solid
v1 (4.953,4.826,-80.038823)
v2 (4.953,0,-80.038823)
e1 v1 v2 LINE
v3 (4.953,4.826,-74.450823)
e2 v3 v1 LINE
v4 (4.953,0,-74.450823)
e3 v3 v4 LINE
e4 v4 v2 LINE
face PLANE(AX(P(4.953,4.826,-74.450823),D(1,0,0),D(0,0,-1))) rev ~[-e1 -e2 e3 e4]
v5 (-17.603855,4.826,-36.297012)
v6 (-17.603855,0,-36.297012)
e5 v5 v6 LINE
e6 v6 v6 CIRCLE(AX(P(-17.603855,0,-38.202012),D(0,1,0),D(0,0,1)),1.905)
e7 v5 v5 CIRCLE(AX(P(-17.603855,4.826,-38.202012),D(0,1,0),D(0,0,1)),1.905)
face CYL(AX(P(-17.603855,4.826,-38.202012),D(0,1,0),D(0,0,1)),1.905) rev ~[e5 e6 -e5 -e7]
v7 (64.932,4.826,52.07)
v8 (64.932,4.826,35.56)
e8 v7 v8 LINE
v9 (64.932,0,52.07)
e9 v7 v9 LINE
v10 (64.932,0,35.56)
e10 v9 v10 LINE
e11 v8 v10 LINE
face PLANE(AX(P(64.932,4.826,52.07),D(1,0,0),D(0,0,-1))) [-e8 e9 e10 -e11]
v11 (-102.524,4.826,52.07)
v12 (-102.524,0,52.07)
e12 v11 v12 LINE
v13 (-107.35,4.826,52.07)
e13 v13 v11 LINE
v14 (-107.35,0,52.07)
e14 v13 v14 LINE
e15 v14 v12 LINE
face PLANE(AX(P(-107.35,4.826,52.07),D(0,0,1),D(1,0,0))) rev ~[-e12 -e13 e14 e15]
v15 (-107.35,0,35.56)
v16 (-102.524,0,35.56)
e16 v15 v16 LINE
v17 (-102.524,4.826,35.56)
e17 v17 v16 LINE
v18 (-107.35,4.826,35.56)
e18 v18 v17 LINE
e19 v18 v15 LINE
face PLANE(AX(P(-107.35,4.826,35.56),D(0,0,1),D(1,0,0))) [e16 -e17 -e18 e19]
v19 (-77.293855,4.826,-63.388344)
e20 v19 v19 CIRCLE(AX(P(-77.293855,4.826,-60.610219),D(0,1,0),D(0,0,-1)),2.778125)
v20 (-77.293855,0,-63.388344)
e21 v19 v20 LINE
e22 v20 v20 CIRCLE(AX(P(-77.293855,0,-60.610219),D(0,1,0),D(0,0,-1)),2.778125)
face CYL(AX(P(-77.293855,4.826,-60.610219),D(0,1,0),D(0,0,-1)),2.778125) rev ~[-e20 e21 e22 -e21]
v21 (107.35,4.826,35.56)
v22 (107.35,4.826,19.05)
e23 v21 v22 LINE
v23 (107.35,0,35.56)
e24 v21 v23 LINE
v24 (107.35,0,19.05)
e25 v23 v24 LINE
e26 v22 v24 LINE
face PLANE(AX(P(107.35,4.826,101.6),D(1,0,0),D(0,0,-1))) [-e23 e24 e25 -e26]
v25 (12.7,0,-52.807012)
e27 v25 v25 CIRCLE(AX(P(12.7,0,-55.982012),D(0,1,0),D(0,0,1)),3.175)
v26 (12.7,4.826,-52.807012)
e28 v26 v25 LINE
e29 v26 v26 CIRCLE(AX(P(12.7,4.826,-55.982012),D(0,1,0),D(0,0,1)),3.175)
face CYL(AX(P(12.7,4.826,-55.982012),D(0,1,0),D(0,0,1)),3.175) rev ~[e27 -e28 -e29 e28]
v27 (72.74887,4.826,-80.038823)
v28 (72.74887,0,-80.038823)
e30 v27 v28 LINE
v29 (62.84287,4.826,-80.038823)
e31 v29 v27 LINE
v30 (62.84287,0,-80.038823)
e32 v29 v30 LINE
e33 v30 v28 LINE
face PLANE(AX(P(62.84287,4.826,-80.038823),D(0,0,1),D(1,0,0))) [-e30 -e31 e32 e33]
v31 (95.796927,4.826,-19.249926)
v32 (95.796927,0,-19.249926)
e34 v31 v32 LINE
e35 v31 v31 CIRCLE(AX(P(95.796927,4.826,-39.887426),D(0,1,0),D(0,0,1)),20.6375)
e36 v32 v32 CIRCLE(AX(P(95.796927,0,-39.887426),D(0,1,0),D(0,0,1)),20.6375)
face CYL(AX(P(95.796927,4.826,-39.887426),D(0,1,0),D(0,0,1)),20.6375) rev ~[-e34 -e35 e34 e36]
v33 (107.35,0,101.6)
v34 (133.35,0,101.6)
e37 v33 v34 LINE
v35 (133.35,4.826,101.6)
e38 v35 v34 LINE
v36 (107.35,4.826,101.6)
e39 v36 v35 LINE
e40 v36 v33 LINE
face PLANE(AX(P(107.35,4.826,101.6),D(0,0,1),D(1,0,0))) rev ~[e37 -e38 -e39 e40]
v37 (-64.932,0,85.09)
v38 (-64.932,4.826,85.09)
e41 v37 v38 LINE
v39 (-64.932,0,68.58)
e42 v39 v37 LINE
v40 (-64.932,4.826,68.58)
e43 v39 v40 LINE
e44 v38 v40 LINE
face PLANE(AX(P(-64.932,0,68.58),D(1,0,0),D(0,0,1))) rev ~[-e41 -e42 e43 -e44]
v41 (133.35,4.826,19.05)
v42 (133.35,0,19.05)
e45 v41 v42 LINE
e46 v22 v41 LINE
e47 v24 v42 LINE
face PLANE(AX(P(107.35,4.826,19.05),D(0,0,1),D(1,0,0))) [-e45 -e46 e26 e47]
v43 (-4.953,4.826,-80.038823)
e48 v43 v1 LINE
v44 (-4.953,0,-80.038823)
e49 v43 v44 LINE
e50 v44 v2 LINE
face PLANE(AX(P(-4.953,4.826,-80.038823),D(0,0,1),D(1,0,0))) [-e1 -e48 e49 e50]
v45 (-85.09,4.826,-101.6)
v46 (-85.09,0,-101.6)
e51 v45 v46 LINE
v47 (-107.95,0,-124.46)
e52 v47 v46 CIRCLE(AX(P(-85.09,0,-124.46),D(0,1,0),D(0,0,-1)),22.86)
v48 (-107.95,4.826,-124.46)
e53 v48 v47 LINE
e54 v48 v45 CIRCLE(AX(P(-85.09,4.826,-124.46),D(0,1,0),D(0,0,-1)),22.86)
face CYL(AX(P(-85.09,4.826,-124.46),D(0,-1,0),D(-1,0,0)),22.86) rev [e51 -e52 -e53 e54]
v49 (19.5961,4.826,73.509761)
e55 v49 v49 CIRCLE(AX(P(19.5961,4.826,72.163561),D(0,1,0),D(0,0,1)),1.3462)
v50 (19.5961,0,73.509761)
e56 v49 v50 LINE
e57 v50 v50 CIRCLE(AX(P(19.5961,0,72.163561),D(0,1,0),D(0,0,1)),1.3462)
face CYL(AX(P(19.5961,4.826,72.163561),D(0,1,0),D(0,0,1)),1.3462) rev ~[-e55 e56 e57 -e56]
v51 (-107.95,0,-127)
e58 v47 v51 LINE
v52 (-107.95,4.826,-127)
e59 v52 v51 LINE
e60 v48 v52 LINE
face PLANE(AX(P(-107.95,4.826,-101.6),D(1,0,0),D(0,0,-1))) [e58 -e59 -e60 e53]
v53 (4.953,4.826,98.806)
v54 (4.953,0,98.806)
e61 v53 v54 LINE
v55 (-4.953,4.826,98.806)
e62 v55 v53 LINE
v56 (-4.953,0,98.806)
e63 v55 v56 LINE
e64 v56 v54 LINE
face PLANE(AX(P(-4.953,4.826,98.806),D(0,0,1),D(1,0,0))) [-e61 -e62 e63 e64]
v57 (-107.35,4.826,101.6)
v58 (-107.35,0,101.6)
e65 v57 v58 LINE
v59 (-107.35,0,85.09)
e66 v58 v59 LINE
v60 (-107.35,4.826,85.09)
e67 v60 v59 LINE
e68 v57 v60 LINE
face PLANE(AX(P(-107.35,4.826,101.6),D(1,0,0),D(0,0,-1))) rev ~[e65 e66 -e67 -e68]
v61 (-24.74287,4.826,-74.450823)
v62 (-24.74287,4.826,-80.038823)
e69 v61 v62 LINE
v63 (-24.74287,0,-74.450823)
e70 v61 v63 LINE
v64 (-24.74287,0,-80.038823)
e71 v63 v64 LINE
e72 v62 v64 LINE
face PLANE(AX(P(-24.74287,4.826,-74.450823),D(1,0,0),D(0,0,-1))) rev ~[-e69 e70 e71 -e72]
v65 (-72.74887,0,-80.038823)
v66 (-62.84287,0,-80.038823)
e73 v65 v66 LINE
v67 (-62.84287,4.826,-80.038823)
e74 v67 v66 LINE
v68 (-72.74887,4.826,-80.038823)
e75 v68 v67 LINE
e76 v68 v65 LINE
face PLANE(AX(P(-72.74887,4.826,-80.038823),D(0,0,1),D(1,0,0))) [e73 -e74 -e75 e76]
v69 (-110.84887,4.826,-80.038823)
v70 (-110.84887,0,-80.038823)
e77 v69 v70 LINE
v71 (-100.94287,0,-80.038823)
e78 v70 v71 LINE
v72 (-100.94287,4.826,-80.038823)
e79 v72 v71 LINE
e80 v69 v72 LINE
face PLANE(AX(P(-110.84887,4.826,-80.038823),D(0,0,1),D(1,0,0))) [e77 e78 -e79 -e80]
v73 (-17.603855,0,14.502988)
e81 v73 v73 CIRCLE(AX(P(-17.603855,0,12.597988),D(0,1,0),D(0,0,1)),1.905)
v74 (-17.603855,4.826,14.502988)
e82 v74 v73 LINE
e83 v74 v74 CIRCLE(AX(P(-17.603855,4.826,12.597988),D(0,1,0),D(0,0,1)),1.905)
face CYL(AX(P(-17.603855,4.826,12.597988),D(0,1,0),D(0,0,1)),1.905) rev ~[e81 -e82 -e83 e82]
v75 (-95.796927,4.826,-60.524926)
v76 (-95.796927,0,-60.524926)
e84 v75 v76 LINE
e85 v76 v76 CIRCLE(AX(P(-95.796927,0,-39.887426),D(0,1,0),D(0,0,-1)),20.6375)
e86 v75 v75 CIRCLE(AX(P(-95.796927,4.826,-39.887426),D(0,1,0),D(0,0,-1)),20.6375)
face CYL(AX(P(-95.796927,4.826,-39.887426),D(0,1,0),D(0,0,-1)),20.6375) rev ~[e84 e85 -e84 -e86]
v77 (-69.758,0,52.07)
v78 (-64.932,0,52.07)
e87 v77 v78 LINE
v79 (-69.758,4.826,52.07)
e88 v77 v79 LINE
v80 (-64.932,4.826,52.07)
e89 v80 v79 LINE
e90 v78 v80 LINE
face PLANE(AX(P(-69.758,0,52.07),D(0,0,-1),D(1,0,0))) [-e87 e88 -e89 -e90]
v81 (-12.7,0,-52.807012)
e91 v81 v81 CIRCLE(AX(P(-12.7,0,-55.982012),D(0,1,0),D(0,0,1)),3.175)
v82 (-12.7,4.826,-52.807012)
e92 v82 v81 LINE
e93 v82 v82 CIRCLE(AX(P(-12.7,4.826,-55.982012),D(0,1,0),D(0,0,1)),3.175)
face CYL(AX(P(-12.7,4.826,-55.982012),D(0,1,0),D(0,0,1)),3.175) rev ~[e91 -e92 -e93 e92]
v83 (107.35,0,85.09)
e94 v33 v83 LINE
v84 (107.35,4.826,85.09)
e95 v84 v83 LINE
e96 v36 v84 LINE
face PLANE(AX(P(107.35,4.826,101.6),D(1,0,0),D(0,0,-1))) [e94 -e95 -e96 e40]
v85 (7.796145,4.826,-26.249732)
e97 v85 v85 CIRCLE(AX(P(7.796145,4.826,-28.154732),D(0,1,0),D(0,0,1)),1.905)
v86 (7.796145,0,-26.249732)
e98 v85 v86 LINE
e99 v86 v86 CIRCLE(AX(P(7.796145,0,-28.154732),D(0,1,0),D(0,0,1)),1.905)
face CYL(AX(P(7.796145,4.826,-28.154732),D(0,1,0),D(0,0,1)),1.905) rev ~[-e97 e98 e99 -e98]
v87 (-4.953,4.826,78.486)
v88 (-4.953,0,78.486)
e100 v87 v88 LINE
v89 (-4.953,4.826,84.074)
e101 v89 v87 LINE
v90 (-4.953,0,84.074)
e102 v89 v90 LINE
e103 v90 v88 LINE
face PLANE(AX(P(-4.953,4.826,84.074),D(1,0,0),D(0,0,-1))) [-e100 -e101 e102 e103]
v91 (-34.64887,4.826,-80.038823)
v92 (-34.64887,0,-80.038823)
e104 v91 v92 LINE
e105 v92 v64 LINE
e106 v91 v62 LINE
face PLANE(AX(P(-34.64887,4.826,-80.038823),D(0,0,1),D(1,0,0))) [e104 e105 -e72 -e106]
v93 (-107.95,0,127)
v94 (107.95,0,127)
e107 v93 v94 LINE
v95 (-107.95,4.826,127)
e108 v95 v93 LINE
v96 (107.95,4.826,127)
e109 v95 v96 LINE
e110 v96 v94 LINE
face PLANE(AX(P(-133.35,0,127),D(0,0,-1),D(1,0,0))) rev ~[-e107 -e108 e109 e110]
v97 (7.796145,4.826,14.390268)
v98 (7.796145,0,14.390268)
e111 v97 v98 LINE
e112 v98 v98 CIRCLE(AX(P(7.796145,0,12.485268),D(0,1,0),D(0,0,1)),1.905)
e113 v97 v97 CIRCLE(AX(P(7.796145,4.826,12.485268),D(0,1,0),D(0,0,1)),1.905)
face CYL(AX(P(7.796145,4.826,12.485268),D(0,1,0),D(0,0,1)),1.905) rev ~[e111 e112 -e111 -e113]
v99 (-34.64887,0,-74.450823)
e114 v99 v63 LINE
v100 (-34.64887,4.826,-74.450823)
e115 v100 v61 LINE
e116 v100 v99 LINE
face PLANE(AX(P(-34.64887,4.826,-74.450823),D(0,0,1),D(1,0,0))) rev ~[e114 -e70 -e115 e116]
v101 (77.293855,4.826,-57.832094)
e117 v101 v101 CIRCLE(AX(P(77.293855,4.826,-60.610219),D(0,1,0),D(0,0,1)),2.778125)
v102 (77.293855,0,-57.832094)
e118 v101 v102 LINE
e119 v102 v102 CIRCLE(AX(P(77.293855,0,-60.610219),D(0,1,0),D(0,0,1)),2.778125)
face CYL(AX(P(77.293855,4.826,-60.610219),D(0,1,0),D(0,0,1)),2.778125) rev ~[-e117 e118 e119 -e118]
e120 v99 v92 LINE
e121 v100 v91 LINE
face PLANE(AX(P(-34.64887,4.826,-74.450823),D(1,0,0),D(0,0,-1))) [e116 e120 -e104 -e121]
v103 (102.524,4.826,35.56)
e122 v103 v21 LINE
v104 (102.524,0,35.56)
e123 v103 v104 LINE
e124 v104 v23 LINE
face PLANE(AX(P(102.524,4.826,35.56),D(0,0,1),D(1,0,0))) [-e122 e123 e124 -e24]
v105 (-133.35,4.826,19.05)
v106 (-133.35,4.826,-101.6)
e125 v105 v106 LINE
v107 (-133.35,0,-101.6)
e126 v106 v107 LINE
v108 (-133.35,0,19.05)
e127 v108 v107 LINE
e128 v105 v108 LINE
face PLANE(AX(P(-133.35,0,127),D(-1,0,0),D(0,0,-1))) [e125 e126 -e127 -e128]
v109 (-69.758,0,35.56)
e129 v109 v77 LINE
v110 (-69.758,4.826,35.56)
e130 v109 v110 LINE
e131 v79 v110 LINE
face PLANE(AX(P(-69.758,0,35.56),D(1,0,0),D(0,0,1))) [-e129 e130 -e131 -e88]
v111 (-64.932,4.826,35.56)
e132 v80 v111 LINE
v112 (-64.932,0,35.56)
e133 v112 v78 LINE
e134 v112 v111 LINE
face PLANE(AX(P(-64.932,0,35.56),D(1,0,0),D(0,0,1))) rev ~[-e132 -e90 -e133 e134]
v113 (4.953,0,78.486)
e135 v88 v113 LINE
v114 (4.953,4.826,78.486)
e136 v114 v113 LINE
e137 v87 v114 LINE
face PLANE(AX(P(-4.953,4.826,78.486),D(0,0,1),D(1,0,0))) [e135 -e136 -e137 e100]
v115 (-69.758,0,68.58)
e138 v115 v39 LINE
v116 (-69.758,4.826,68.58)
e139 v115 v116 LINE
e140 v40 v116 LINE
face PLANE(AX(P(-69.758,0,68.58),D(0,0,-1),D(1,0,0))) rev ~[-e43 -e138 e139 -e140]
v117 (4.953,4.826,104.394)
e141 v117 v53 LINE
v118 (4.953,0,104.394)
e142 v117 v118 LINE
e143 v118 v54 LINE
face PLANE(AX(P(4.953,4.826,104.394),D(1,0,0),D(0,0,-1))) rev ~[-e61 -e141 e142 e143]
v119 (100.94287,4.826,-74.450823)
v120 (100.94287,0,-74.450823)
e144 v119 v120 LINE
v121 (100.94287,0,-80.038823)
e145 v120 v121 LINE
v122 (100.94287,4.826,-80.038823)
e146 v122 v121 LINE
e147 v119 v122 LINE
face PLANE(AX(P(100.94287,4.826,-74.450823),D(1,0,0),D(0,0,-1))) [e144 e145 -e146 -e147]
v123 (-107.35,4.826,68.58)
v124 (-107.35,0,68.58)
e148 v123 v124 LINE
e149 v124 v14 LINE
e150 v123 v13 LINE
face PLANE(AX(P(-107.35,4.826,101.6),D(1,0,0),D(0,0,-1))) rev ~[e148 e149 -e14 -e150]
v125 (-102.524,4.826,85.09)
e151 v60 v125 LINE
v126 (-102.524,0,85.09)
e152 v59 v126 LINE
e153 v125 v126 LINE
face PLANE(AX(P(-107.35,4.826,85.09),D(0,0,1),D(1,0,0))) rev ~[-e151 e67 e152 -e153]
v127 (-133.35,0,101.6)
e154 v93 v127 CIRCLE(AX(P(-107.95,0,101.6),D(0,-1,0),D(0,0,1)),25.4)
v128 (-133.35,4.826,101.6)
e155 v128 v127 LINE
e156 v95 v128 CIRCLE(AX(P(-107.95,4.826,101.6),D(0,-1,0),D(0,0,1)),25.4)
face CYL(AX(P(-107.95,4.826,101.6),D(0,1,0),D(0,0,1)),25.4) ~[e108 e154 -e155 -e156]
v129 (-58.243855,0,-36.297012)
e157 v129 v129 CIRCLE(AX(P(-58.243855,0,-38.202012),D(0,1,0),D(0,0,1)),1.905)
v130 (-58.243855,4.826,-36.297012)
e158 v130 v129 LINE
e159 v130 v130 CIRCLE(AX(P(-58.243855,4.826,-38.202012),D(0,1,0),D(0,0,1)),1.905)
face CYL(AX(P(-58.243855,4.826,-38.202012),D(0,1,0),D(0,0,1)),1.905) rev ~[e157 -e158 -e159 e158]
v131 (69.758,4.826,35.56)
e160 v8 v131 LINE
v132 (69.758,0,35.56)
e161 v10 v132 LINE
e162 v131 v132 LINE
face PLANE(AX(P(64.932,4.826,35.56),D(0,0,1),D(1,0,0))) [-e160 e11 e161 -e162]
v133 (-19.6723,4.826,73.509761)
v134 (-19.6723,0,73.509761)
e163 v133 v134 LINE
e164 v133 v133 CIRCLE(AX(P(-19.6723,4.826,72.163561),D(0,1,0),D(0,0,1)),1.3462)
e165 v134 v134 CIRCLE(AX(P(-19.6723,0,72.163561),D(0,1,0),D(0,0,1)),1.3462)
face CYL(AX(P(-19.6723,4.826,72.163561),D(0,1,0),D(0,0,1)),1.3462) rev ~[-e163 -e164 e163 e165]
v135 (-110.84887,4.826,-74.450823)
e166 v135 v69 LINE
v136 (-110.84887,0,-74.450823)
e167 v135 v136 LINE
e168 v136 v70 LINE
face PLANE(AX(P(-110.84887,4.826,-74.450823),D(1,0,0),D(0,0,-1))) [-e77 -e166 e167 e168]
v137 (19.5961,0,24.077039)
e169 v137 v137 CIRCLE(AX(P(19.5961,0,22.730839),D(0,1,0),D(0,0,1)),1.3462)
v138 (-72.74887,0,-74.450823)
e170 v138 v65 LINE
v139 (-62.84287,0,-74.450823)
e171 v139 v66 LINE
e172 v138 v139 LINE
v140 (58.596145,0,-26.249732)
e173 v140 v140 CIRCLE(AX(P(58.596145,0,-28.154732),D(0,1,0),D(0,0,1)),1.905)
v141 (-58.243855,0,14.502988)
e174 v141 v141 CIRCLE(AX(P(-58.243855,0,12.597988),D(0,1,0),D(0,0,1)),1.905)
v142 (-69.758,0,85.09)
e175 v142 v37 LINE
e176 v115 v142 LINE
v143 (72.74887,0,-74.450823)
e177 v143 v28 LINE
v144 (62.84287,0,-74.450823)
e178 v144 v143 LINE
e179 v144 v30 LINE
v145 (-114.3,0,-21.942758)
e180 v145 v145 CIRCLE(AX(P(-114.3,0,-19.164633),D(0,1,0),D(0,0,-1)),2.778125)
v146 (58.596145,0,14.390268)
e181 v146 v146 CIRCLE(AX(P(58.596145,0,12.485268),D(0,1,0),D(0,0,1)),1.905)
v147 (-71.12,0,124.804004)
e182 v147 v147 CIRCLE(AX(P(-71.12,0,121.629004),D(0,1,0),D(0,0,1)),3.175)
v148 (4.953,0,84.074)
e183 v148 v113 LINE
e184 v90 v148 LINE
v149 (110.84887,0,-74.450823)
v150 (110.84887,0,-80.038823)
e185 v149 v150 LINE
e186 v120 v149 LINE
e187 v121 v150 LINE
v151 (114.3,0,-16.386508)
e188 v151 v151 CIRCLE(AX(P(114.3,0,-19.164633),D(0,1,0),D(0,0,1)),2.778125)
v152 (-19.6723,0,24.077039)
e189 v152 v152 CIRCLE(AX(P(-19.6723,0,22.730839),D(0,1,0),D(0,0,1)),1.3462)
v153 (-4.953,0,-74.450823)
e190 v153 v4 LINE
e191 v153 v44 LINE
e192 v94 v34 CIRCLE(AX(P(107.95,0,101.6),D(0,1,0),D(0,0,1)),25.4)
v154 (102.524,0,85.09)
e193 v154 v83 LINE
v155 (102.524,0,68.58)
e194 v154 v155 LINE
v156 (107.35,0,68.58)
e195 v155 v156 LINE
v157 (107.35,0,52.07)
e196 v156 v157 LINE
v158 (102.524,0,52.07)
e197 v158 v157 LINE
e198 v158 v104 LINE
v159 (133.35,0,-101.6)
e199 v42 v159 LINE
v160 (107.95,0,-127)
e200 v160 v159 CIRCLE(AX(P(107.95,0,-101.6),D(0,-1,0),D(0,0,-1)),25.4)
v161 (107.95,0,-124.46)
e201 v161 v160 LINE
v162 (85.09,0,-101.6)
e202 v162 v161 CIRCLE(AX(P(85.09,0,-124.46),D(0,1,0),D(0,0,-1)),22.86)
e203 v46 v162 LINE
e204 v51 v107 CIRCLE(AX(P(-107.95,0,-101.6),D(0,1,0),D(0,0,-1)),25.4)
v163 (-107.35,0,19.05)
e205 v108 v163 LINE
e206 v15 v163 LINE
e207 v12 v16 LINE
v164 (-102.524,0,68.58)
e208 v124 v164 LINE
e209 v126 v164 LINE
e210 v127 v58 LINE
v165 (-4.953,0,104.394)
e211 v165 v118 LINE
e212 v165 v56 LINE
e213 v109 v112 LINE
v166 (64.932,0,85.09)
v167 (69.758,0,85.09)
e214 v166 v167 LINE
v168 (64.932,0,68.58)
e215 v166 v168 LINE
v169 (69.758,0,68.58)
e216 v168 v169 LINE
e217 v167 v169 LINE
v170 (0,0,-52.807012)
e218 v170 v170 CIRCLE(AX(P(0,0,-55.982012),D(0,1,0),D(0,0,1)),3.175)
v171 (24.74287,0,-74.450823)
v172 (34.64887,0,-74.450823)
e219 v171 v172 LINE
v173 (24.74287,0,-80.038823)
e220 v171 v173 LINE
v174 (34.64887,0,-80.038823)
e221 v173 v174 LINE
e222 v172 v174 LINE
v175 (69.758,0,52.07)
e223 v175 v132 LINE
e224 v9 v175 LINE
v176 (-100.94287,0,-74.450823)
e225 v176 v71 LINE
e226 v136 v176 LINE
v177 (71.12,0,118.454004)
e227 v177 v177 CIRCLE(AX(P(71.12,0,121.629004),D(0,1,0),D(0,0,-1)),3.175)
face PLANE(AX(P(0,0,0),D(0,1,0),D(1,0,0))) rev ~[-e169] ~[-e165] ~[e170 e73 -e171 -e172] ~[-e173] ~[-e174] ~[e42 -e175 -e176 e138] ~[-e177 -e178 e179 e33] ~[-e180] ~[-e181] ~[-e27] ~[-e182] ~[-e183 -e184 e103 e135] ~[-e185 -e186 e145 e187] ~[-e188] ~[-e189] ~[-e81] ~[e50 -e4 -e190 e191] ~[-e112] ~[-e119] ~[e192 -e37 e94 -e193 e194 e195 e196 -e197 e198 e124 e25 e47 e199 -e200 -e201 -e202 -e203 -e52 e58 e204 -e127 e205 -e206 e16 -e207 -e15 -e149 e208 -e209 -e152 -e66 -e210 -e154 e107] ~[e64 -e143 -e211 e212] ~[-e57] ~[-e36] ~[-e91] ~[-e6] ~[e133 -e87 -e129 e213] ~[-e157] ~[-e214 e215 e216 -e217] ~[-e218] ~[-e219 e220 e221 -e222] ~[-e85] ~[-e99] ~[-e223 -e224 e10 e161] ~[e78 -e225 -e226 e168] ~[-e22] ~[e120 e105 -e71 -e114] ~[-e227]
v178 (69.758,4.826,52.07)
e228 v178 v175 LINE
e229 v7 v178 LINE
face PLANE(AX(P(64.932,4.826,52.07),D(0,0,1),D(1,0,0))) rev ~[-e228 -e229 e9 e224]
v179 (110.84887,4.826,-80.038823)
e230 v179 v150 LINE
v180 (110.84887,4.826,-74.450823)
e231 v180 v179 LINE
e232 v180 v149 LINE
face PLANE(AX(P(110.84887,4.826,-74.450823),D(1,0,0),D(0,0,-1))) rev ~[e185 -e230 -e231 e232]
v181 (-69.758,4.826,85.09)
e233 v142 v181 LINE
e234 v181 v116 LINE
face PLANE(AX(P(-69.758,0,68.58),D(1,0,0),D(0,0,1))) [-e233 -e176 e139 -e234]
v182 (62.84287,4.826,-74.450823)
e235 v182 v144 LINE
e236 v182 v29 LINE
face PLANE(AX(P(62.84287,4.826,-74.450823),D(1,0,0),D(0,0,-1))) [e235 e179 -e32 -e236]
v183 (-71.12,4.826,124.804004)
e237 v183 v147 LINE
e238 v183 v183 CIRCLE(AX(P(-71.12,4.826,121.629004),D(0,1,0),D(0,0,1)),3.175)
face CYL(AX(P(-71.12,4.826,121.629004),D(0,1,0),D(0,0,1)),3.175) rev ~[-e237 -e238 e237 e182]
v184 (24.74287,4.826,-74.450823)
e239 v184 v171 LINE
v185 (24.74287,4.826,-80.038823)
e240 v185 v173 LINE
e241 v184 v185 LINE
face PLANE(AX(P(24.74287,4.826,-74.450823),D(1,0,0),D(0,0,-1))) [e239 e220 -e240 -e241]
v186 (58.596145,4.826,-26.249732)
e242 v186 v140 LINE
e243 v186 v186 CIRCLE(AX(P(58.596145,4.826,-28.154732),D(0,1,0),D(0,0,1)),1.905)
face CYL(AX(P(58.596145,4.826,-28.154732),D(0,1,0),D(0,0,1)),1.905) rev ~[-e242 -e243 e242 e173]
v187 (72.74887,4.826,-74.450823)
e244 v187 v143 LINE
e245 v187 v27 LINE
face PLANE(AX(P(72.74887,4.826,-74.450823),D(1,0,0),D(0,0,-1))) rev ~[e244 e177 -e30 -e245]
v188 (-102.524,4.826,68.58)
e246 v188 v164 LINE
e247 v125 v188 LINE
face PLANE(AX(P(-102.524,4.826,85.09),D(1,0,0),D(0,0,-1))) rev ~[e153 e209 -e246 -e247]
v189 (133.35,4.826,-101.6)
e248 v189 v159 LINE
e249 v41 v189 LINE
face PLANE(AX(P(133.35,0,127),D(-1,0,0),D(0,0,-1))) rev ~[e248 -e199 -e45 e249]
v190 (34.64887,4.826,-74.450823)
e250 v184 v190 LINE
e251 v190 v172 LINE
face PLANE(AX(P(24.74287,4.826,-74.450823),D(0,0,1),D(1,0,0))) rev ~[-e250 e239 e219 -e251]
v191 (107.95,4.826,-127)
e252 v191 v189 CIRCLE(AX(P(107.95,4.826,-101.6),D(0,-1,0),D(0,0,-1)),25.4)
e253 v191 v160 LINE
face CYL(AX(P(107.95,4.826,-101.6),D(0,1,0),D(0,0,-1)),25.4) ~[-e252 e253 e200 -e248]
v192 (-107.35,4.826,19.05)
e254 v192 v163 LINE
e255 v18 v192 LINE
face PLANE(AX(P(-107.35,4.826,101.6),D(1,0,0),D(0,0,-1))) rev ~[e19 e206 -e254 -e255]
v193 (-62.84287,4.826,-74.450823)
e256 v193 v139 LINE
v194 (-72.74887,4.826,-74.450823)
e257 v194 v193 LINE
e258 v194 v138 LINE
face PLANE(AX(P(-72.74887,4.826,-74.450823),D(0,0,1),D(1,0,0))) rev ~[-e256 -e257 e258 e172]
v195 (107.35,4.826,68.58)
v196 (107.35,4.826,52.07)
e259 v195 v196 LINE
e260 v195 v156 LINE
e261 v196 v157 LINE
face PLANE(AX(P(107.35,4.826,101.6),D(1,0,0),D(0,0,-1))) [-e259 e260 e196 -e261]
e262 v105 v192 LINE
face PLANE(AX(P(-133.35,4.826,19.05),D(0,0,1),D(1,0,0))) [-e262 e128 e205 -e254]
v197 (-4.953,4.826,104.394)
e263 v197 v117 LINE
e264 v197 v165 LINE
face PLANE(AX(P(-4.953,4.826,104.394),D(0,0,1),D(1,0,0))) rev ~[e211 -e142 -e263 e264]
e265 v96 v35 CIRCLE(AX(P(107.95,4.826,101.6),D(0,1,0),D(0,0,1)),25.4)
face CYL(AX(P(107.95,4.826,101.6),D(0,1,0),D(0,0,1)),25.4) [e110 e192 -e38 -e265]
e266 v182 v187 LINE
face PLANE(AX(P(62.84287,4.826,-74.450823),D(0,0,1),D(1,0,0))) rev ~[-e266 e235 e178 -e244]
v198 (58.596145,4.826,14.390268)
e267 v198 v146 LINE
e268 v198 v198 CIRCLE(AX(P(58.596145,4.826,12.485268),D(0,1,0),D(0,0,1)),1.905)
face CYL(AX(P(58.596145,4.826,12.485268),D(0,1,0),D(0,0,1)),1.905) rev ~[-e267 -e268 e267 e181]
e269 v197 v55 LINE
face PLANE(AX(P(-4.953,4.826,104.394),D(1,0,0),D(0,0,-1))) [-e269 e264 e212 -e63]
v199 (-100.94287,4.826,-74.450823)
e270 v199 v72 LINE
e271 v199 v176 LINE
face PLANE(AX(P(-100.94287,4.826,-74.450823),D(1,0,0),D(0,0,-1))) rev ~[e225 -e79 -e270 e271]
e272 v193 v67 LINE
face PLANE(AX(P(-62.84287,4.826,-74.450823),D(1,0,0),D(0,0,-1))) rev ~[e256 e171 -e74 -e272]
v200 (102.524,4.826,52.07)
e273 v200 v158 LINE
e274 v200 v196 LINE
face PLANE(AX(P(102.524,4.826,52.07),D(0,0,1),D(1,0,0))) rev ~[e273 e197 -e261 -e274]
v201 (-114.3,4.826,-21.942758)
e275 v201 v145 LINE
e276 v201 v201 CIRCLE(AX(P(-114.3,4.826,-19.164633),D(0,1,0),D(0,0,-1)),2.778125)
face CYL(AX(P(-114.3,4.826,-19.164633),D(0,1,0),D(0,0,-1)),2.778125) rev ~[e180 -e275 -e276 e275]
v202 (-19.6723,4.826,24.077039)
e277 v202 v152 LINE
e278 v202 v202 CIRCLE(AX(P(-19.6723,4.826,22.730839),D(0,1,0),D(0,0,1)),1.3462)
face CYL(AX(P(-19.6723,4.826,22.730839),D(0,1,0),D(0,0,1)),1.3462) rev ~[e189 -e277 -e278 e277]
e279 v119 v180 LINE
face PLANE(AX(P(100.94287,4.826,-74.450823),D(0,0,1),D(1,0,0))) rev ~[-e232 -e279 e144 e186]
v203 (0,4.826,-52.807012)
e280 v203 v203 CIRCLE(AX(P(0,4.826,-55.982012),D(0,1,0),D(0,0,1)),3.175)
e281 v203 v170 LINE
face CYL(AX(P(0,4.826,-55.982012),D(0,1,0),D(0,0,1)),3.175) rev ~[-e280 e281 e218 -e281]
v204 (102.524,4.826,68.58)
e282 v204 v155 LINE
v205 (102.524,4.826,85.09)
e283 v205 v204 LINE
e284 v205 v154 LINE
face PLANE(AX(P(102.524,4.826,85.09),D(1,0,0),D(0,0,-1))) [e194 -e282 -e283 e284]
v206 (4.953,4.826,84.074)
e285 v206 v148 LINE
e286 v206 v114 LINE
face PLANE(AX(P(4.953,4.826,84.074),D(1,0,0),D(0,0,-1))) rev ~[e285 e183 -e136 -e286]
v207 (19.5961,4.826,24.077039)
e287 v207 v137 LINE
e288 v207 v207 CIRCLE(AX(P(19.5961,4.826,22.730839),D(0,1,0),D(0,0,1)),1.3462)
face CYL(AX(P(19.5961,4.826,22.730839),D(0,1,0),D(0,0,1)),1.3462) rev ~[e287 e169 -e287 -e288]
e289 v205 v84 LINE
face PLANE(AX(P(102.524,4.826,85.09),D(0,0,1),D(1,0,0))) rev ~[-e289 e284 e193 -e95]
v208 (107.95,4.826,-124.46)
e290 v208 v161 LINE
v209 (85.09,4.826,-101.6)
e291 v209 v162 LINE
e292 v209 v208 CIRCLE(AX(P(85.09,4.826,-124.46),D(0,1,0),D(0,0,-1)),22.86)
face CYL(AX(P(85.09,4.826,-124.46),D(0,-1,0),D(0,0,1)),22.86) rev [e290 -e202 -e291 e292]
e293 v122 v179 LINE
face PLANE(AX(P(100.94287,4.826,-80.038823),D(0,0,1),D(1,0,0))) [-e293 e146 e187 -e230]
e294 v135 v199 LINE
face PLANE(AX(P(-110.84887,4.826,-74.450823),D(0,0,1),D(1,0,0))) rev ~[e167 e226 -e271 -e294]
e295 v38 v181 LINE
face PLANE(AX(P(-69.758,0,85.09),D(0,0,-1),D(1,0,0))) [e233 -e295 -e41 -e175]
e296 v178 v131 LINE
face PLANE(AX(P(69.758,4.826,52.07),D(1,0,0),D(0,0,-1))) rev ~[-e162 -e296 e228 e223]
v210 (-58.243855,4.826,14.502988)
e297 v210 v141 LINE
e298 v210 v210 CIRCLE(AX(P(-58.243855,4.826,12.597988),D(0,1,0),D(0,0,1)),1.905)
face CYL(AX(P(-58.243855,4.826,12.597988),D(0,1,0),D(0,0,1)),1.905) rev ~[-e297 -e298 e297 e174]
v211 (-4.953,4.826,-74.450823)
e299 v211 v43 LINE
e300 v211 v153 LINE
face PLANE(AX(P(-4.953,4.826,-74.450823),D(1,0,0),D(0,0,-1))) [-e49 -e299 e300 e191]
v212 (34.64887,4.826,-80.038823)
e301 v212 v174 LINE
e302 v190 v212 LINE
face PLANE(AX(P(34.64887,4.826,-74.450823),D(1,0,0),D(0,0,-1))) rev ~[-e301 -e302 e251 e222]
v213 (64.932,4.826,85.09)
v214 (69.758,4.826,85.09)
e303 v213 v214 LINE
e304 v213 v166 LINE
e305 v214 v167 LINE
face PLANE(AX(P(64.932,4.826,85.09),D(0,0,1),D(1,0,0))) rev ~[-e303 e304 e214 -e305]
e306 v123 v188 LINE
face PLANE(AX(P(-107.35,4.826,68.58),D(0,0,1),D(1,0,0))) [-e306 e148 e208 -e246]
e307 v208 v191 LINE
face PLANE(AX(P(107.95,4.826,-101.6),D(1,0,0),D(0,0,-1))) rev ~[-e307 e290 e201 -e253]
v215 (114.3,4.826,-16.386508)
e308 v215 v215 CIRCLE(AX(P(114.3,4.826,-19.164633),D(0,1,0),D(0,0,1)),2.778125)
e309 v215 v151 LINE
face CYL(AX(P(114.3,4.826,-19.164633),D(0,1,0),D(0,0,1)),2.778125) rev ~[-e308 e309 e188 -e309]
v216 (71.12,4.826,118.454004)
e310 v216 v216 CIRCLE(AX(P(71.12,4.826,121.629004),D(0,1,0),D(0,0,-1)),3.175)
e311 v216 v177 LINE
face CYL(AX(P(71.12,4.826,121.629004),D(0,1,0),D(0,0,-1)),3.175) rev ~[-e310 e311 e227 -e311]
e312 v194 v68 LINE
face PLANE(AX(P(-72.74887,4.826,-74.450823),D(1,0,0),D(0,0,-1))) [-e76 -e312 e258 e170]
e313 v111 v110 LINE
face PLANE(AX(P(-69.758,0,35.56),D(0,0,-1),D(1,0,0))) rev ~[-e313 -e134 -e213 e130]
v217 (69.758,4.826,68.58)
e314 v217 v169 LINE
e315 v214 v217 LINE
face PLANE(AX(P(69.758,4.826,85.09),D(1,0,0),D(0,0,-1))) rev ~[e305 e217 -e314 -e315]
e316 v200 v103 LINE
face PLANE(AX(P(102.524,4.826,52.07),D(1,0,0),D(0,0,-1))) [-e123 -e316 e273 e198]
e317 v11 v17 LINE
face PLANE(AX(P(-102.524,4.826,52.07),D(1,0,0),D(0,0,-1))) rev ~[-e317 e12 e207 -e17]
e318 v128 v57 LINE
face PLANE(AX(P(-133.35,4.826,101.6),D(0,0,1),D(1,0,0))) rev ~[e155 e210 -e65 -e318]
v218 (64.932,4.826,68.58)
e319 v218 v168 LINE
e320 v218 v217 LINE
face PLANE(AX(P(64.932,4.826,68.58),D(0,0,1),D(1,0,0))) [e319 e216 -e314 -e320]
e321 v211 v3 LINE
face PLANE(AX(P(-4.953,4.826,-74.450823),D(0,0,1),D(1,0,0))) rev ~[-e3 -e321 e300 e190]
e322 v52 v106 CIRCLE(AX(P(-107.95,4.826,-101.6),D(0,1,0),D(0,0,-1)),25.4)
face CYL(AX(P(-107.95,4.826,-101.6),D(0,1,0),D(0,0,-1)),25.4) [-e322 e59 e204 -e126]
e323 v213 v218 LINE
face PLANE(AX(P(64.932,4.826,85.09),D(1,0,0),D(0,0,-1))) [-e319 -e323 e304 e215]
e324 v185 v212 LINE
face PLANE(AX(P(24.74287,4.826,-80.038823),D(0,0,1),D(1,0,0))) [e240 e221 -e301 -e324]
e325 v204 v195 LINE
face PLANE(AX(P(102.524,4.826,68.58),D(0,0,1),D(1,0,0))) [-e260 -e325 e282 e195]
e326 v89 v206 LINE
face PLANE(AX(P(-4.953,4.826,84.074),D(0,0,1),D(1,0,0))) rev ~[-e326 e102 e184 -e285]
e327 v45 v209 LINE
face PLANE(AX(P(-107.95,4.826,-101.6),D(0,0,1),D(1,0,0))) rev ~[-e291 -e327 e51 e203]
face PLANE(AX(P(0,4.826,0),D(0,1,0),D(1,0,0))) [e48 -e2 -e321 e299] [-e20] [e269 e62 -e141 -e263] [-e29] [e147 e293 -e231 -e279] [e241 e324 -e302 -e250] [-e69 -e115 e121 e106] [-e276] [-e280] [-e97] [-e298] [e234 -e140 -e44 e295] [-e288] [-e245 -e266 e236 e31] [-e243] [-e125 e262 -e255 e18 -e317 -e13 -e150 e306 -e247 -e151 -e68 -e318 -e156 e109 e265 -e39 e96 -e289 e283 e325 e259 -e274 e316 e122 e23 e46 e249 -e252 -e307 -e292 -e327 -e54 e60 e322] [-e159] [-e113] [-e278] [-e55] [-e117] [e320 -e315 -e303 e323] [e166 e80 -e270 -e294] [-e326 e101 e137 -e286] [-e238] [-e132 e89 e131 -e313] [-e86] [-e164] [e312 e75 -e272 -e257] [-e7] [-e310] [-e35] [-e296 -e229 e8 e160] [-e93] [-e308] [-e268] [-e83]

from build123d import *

# Parameters (mm, degrees)
SKETCH1_W           = 266.7
SKETCH1_H           = 254
BOSS_EXTRUDE1_DEPTH = 4.826
SKETCH2_W           = 26.00000007
SKETCH2_H           = 82.55
CUT_EXTRUDE1_DEPTH  = 4.826
CUT_EXTRUDE3_DEPTH  = 4.826
SKETCH7_W           = 215.9
SKETCH7_H           = 25.4
CUT_EXTRUDE5_DEPTH  = 4.826
FILLET9_R           = 22.86
FILLET10_R          = 22.86
CUT_EXTRUDE6_DEPTH  = 4.826
SKETCH9_R           = 3.175
CUT_EXTRUDE7_DEPTH  = 4.826
SKETCH10_W          = 4.826
SKETCH10_H          = 16.51
CUT_EXTRUDE8_DEPTH  = 185.213226387
SKETCH12_W          = 4.826
SKETCH12_H          = 16.51
CUT_EXTRUDE9_DEPTH  = 185.213226387
SKETCH13_W          = 4.826
SKETCH13_H          = 16.51
CUT_EXTRUDE10_DEPTH = 185.213226387
SKETCH15_R          = 1.3462
CUT_EXTRUDE11_DEPTH = 185.213226387
SKETCH16_R          = 2.778125
SKETCH16_R_2        = 20.6375
CUT_EXTRUDE12_DEPTH = 185.213226387
SKETCH17_W          = 9.906
SKETCH17_H          = 5.588
CUT_EXTRUDE13_DEPTH = 185.213226387
SKETCH18_W          = 9.906
SKETCH18_H          = 5.588
CUT_EXTRUDE14_DEPTH = 185.213226387
SKETCH19_R          = 3.175
CUT_EXTRUDE15_DEPTH = 185.213226387
SKETCH20_R          = 1.905
CUT_EXTRUDE16_DEPTH = 185.213226387
SKETCH21_R          = 1.905
CUT_EXTRUDE17_DEPTH = 185.213226387


with BuildPart() as part:
    # Sketch1 → Boss-Extrude1 (new body)
    with BuildSketch(Plane(origin=(0, 0, 0), x_dir=(1, 0, 0), z_dir=(0, 1, 0))):
        Rectangle(SKETCH1_W, SKETCH1_H)
    extrude(amount=BOSS_EXTRUDE1_DEPTH)

    # Sketch2 → Cut-Extrude1 (cut)
    with BuildSketch(Plane(origin=(0, 4.826, 0), x_dir=(1, 0, 0), z_dir=(0, 1, 0))):
        with Locations((-120.349999965, -60.325)):
            Rectangle(SKETCH2_W, SKETCH2_H)
        with Locations((120.349999965, -60.325)):
            Rectangle(SKETCH2_W, SKETCH2_H)
    extrude(amount=-CUT_EXTRUDE1_DEPTH, mode=Mode.SUBTRACT)

    # Sketch4 → Cut-Extrude3 (cut)
    with BuildSketch(Plane(origin=(0, 4.826, 0), x_dir=(1, 0, 0), z_dir=(0, 1, 0))):
        with BuildLine():
            Line((-133.35, 101.6), (-133.35, 127))
            Line((-133.35, 127), (-107.95, 127))
            ThreePointArc((-107.95, 127), (-125.910512242, 119.560512242), (-133.35, 101.6))
        make_face()
        with BuildLine():
            Line((133.35, 101.6), (133.35, 127))
            Line((133.35, 127), (107.95, 127))
            ThreePointArc((107.95, 127), (125.910512242, 119.560512242), (133.35, 101.6))
        make_face()
    extrude(amount=-CUT_EXTRUDE3_DEPTH, mode=Mode.SUBTRACT)

    # Sketch7 → Cut-Extrude5 (cut)
    with BuildSketch(Plane(origin=(0, 4.826, 0), x_dir=(1, 0, 0), z_dir=(0, 1, 0))):
        with Locations((0, 114.3)):
            Rectangle(SKETCH7_W, SKETCH7_H)
    extrude(amount=-CUT_EXTRUDE5_DEPTH, mode=Mode.SUBTRACT)

    # Fillet9
    fillet9_edges = [part.edges().sort_by_distance(p)[0] for p in [
        (-107.95, 2.413, -101.6),
    ]]
    fillet(fillet9_edges, radius=FILLET9_R)

    # Fillet10
    fillet10_edges = [part.edges().sort_by_distance(p)[0] for p in [
        (107.95, 2.413, -101.6),
    ]]
    fillet(fillet10_edges, radius=FILLET10_R)

    # Sketch8 → Cut-Extrude6 (cut)
    with BuildSketch(Plane(origin=(0, 4.826, 0), x_dir=(1, 0, 0), z_dir=(0, 1, 0))):
        with BuildLine():
            Line((-133.35, -101.6), (-133.35, -127))
            Line((-133.35, -127), (-107.95, -127))
            ThreePointArc((-107.95, -127), (-125.910512242, -119.560512242), (-133.35, -101.6))
        make_face()
        with BuildLine():
            Line((133.35, -127), (107.95, -127))
            ThreePointArc((107.95, -127), (125.910512242, -119.560512242), (133.35, -101.6))
            Line((133.35, -101.6), (133.35, -127))
        make_face()
    extrude(amount=-CUT_EXTRUDE6_DEPTH, mode=Mode.SUBTRACT)

    # Sketch9 → Cut-Extrude7 (cut)
    with BuildSketch(Plane(origin=(0, 4.826, 0), x_dir=(1, 0, 0), z_dir=(0, 1, 0))):
        with Locations((-71.12, -121.629004431)):
            Circle(SKETCH9_R)
        with Locations((71.12, -121.629004431)):
            Circle(SKETCH9_R)
    extrude(amount=-CUT_EXTRUDE7_DEPTH, mode=Mode.SUBTRACT)

    # Sketch10 → Cut-Extrude8 (cut, through all)
    with BuildSketch(Plane(origin=(0, 4.826, 0), x_dir=(1, 0, 0), z_dir=(0, 1, 0))):
        with Locations((-104.93699993, -76.835)):
            Rectangle(SKETCH10_W, SKETCH10_H)
        with Locations((-104.93699993, -43.815)):
            Rectangle(SKETCH10_W, SKETCH10_H)
        with Locations((104.93699993, -43.815)):
            Rectangle(SKETCH10_W, SKETCH10_H)
        with Locations((104.93699993, -76.835)):
            Rectangle(SKETCH10_W, SKETCH10_H)
    extrude(amount=-CUT_EXTRUDE8_DEPTH, mode=Mode.SUBTRACT)

    # Sketch12 → Cut-Extrude9 (cut, through all)
    with BuildSketch(Plane.XZ):
        with Locations((-67.34499993, 76.835)):
            Rectangle(SKETCH12_W, SKETCH12_H)
        with Locations((-67.34499993, 43.815)):
            Rectangle(SKETCH12_W, SKETCH12_H)
    extrude(amount=-CUT_EXTRUDE9_DEPTH, mode=Mode.SUBTRACT)

    # Sketch13 → Cut-Extrude10 (cut, through all)
    with BuildSketch(Plane(origin=(0, 4.826, 0), x_dir=(1, 0, 0), z_dir=(0, 1, 0))):
        with Locations((67.34499993, -76.835)):
            Rectangle(SKETCH13_W, SKETCH13_H)
        with Locations((67.34499993, -43.815)):
            Rectangle(SKETCH13_W, SKETCH13_H)
    extrude(amount=-CUT_EXTRUDE10_DEPTH, mode=Mode.SUBTRACT)

    # Sketch15 → Cut-Extrude11 (cut, through all)
    with BuildSketch(Plane(origin=(0, 4.826, 0), x_dir=(1, 0, 0), z_dir=(0, 1, 0))):
        with Locations((19.5961, -22.730838906)):
            Circle(SKETCH15_R)
        with Locations((-19.6723, -22.730838906)):
            Circle(SKETCH15_R)
        with Locations((-19.6723, -72.163561094)):
            Circle(SKETCH15_R)
        with Locations((19.5961, -72.163561094)):
            Circle(SKETCH15_R)
    extrude(amount=-CUT_EXTRUDE11_DEPTH, mode=Mode.SUBTRACT)

    # Sketch16 → Cut-Extrude12 (cut, through all)
    with BuildSketch(Plane(origin=(0, 4.826, 0), x_dir=(1, 0, 0), z_dir=(0, 1, 0))):
        with Locations((77.293854564, 60.610218612)):
            Circle(SKETCH16_R)
        with Locations((114.3, 19.164632523)):
            Circle(SKETCH16_R)
        with Locations((95.796927282, 39.887425568)):
            Circle(SKETCH16_R_2)
        with Locations((-95.796927282, 39.887425568)):
            Circle(SKETCH16_R_2)
        with Locations((-77.293854564, 60.610218612)):
            Circle(SKETCH16_R)
        with Locations((-114.3, 19.164632523)):
            Circle(SKETCH16_R)
    extrude(amount=-CUT_EXTRUDE12_DEPTH, mode=Mode.SUBTRACT)

    # Sketch17 → Cut-Extrude13 (cut, through all)
    with BuildSketch(Plane(origin=(0, 4.826, 0), x_dir=(1, 0, 0), z_dir=(0, 1, 0))):
        with Locations((-67.795869789, 77.244822677)):
            Rectangle(SKETCH17_W, SKETCH17_H)
        with Locations((-105.895869789, 77.244822677)):
            Rectangle(SKETCH17_W, SKETCH17_H)
        with Locations((-29.695869789, 77.244822677)):
            Rectangle(SKETCH17_W, SKETCH17_H)
        with Locations((0, 77.244822677)):
            Rectangle(SKETCH17_W, SKETCH17_H)
        with Locations((29.695869789, 77.244822677)):
            Rectangle(SKETCH17_W, SKETCH17_H)
        with Locations((67.795869789, 77.244822677)):
            Rectangle(SKETCH17_W, SKETCH17_H)
        with Locations((105.895869789, 77.244822677)):
            Rectangle(SKETCH17_W, SKETCH17_H)
    extrude(amount=-CUT_EXTRUDE13_DEPTH, mode=Mode.SUBTRACT)

    # Sketch18 → Cut-Extrude14 (cut, through all)
    with BuildSketch(Plane(origin=(0, 4.826, 0), x_dir=(1, 0, 0), z_dir=(0, 1, 0))):
        with Locations((0, -101.6)):
            Rectangle(SKETCH18_W, SKETCH18_H)
        with Locations((0, -81.28)):
            Rectangle(SKETCH18_W, SKETCH18_H)
    extrude(amount=-CUT_EXTRUDE14_DEPTH, mode=Mode.SUBTRACT)

    # Sketch19 → Cut-Extrude15 (cut, through all)
    with BuildSketch(Plane(origin=(0, 4.826, 0), x_dir=(1, 0, 0), z_dir=(0, 1, 0))):
        with Locations((0, 55.982011538)):
            Circle(SKETCH19_R)
        with Locations((12.7, 55.982011538)):
            Circle(SKETCH19_R)
        with Locations((-12.7, 55.982011538)):
            Circle(SKETCH19_R)
    extrude(amount=-CUT_EXTRUDE15_DEPTH, mode=Mode.SUBTRACT)

    # Sketch20 → Cut-Extrude16 (cut, through all)
    with BuildSketch(Plane(origin=(0, 4.826, 0), x_dir=(1, 0, 0), z_dir=(0, 1, 0))):
        with Locations((-58.243854564, 38.202011538)):
            Circle(SKETCH20_R)
        with Locations((-17.603854564, 38.202011538)):
            Circle(SKETCH20_R)
        with Locations((-58.243854564, -12.597988462)):
            Circle(SKETCH20_R)
        with Locations((-17.603854564, -12.597988462)):
            Circle(SKETCH20_R)
    extrude(amount=-CUT_EXTRUDE16_DEPTH, mode=Mode.SUBTRACT)

    # Sketch21 → Cut-Extrude17 (cut, through all)
    with BuildSketch(Plane(origin=(0, 4.826, 0), x_dir=(1, 0, 0), z_dir=(0, 1, 0))):
        with Locations((7.796145436, 28.154731738)):
            Circle(SKETCH21_R)
        with Locations((58.596145436, 28.154731738)):
            Circle(SKETCH21_R)
        with Locations((7.796145436, -12.485268262)):
            Circle(SKETCH21_R)
        with Locations((58.596145436, -12.485268262)):
            Circle(SKETCH21_R)
    extrude(amount=-CUT_EXTRUDE17_DEPTH, mode=Mode.SUBTRACT)


solid = part.part
